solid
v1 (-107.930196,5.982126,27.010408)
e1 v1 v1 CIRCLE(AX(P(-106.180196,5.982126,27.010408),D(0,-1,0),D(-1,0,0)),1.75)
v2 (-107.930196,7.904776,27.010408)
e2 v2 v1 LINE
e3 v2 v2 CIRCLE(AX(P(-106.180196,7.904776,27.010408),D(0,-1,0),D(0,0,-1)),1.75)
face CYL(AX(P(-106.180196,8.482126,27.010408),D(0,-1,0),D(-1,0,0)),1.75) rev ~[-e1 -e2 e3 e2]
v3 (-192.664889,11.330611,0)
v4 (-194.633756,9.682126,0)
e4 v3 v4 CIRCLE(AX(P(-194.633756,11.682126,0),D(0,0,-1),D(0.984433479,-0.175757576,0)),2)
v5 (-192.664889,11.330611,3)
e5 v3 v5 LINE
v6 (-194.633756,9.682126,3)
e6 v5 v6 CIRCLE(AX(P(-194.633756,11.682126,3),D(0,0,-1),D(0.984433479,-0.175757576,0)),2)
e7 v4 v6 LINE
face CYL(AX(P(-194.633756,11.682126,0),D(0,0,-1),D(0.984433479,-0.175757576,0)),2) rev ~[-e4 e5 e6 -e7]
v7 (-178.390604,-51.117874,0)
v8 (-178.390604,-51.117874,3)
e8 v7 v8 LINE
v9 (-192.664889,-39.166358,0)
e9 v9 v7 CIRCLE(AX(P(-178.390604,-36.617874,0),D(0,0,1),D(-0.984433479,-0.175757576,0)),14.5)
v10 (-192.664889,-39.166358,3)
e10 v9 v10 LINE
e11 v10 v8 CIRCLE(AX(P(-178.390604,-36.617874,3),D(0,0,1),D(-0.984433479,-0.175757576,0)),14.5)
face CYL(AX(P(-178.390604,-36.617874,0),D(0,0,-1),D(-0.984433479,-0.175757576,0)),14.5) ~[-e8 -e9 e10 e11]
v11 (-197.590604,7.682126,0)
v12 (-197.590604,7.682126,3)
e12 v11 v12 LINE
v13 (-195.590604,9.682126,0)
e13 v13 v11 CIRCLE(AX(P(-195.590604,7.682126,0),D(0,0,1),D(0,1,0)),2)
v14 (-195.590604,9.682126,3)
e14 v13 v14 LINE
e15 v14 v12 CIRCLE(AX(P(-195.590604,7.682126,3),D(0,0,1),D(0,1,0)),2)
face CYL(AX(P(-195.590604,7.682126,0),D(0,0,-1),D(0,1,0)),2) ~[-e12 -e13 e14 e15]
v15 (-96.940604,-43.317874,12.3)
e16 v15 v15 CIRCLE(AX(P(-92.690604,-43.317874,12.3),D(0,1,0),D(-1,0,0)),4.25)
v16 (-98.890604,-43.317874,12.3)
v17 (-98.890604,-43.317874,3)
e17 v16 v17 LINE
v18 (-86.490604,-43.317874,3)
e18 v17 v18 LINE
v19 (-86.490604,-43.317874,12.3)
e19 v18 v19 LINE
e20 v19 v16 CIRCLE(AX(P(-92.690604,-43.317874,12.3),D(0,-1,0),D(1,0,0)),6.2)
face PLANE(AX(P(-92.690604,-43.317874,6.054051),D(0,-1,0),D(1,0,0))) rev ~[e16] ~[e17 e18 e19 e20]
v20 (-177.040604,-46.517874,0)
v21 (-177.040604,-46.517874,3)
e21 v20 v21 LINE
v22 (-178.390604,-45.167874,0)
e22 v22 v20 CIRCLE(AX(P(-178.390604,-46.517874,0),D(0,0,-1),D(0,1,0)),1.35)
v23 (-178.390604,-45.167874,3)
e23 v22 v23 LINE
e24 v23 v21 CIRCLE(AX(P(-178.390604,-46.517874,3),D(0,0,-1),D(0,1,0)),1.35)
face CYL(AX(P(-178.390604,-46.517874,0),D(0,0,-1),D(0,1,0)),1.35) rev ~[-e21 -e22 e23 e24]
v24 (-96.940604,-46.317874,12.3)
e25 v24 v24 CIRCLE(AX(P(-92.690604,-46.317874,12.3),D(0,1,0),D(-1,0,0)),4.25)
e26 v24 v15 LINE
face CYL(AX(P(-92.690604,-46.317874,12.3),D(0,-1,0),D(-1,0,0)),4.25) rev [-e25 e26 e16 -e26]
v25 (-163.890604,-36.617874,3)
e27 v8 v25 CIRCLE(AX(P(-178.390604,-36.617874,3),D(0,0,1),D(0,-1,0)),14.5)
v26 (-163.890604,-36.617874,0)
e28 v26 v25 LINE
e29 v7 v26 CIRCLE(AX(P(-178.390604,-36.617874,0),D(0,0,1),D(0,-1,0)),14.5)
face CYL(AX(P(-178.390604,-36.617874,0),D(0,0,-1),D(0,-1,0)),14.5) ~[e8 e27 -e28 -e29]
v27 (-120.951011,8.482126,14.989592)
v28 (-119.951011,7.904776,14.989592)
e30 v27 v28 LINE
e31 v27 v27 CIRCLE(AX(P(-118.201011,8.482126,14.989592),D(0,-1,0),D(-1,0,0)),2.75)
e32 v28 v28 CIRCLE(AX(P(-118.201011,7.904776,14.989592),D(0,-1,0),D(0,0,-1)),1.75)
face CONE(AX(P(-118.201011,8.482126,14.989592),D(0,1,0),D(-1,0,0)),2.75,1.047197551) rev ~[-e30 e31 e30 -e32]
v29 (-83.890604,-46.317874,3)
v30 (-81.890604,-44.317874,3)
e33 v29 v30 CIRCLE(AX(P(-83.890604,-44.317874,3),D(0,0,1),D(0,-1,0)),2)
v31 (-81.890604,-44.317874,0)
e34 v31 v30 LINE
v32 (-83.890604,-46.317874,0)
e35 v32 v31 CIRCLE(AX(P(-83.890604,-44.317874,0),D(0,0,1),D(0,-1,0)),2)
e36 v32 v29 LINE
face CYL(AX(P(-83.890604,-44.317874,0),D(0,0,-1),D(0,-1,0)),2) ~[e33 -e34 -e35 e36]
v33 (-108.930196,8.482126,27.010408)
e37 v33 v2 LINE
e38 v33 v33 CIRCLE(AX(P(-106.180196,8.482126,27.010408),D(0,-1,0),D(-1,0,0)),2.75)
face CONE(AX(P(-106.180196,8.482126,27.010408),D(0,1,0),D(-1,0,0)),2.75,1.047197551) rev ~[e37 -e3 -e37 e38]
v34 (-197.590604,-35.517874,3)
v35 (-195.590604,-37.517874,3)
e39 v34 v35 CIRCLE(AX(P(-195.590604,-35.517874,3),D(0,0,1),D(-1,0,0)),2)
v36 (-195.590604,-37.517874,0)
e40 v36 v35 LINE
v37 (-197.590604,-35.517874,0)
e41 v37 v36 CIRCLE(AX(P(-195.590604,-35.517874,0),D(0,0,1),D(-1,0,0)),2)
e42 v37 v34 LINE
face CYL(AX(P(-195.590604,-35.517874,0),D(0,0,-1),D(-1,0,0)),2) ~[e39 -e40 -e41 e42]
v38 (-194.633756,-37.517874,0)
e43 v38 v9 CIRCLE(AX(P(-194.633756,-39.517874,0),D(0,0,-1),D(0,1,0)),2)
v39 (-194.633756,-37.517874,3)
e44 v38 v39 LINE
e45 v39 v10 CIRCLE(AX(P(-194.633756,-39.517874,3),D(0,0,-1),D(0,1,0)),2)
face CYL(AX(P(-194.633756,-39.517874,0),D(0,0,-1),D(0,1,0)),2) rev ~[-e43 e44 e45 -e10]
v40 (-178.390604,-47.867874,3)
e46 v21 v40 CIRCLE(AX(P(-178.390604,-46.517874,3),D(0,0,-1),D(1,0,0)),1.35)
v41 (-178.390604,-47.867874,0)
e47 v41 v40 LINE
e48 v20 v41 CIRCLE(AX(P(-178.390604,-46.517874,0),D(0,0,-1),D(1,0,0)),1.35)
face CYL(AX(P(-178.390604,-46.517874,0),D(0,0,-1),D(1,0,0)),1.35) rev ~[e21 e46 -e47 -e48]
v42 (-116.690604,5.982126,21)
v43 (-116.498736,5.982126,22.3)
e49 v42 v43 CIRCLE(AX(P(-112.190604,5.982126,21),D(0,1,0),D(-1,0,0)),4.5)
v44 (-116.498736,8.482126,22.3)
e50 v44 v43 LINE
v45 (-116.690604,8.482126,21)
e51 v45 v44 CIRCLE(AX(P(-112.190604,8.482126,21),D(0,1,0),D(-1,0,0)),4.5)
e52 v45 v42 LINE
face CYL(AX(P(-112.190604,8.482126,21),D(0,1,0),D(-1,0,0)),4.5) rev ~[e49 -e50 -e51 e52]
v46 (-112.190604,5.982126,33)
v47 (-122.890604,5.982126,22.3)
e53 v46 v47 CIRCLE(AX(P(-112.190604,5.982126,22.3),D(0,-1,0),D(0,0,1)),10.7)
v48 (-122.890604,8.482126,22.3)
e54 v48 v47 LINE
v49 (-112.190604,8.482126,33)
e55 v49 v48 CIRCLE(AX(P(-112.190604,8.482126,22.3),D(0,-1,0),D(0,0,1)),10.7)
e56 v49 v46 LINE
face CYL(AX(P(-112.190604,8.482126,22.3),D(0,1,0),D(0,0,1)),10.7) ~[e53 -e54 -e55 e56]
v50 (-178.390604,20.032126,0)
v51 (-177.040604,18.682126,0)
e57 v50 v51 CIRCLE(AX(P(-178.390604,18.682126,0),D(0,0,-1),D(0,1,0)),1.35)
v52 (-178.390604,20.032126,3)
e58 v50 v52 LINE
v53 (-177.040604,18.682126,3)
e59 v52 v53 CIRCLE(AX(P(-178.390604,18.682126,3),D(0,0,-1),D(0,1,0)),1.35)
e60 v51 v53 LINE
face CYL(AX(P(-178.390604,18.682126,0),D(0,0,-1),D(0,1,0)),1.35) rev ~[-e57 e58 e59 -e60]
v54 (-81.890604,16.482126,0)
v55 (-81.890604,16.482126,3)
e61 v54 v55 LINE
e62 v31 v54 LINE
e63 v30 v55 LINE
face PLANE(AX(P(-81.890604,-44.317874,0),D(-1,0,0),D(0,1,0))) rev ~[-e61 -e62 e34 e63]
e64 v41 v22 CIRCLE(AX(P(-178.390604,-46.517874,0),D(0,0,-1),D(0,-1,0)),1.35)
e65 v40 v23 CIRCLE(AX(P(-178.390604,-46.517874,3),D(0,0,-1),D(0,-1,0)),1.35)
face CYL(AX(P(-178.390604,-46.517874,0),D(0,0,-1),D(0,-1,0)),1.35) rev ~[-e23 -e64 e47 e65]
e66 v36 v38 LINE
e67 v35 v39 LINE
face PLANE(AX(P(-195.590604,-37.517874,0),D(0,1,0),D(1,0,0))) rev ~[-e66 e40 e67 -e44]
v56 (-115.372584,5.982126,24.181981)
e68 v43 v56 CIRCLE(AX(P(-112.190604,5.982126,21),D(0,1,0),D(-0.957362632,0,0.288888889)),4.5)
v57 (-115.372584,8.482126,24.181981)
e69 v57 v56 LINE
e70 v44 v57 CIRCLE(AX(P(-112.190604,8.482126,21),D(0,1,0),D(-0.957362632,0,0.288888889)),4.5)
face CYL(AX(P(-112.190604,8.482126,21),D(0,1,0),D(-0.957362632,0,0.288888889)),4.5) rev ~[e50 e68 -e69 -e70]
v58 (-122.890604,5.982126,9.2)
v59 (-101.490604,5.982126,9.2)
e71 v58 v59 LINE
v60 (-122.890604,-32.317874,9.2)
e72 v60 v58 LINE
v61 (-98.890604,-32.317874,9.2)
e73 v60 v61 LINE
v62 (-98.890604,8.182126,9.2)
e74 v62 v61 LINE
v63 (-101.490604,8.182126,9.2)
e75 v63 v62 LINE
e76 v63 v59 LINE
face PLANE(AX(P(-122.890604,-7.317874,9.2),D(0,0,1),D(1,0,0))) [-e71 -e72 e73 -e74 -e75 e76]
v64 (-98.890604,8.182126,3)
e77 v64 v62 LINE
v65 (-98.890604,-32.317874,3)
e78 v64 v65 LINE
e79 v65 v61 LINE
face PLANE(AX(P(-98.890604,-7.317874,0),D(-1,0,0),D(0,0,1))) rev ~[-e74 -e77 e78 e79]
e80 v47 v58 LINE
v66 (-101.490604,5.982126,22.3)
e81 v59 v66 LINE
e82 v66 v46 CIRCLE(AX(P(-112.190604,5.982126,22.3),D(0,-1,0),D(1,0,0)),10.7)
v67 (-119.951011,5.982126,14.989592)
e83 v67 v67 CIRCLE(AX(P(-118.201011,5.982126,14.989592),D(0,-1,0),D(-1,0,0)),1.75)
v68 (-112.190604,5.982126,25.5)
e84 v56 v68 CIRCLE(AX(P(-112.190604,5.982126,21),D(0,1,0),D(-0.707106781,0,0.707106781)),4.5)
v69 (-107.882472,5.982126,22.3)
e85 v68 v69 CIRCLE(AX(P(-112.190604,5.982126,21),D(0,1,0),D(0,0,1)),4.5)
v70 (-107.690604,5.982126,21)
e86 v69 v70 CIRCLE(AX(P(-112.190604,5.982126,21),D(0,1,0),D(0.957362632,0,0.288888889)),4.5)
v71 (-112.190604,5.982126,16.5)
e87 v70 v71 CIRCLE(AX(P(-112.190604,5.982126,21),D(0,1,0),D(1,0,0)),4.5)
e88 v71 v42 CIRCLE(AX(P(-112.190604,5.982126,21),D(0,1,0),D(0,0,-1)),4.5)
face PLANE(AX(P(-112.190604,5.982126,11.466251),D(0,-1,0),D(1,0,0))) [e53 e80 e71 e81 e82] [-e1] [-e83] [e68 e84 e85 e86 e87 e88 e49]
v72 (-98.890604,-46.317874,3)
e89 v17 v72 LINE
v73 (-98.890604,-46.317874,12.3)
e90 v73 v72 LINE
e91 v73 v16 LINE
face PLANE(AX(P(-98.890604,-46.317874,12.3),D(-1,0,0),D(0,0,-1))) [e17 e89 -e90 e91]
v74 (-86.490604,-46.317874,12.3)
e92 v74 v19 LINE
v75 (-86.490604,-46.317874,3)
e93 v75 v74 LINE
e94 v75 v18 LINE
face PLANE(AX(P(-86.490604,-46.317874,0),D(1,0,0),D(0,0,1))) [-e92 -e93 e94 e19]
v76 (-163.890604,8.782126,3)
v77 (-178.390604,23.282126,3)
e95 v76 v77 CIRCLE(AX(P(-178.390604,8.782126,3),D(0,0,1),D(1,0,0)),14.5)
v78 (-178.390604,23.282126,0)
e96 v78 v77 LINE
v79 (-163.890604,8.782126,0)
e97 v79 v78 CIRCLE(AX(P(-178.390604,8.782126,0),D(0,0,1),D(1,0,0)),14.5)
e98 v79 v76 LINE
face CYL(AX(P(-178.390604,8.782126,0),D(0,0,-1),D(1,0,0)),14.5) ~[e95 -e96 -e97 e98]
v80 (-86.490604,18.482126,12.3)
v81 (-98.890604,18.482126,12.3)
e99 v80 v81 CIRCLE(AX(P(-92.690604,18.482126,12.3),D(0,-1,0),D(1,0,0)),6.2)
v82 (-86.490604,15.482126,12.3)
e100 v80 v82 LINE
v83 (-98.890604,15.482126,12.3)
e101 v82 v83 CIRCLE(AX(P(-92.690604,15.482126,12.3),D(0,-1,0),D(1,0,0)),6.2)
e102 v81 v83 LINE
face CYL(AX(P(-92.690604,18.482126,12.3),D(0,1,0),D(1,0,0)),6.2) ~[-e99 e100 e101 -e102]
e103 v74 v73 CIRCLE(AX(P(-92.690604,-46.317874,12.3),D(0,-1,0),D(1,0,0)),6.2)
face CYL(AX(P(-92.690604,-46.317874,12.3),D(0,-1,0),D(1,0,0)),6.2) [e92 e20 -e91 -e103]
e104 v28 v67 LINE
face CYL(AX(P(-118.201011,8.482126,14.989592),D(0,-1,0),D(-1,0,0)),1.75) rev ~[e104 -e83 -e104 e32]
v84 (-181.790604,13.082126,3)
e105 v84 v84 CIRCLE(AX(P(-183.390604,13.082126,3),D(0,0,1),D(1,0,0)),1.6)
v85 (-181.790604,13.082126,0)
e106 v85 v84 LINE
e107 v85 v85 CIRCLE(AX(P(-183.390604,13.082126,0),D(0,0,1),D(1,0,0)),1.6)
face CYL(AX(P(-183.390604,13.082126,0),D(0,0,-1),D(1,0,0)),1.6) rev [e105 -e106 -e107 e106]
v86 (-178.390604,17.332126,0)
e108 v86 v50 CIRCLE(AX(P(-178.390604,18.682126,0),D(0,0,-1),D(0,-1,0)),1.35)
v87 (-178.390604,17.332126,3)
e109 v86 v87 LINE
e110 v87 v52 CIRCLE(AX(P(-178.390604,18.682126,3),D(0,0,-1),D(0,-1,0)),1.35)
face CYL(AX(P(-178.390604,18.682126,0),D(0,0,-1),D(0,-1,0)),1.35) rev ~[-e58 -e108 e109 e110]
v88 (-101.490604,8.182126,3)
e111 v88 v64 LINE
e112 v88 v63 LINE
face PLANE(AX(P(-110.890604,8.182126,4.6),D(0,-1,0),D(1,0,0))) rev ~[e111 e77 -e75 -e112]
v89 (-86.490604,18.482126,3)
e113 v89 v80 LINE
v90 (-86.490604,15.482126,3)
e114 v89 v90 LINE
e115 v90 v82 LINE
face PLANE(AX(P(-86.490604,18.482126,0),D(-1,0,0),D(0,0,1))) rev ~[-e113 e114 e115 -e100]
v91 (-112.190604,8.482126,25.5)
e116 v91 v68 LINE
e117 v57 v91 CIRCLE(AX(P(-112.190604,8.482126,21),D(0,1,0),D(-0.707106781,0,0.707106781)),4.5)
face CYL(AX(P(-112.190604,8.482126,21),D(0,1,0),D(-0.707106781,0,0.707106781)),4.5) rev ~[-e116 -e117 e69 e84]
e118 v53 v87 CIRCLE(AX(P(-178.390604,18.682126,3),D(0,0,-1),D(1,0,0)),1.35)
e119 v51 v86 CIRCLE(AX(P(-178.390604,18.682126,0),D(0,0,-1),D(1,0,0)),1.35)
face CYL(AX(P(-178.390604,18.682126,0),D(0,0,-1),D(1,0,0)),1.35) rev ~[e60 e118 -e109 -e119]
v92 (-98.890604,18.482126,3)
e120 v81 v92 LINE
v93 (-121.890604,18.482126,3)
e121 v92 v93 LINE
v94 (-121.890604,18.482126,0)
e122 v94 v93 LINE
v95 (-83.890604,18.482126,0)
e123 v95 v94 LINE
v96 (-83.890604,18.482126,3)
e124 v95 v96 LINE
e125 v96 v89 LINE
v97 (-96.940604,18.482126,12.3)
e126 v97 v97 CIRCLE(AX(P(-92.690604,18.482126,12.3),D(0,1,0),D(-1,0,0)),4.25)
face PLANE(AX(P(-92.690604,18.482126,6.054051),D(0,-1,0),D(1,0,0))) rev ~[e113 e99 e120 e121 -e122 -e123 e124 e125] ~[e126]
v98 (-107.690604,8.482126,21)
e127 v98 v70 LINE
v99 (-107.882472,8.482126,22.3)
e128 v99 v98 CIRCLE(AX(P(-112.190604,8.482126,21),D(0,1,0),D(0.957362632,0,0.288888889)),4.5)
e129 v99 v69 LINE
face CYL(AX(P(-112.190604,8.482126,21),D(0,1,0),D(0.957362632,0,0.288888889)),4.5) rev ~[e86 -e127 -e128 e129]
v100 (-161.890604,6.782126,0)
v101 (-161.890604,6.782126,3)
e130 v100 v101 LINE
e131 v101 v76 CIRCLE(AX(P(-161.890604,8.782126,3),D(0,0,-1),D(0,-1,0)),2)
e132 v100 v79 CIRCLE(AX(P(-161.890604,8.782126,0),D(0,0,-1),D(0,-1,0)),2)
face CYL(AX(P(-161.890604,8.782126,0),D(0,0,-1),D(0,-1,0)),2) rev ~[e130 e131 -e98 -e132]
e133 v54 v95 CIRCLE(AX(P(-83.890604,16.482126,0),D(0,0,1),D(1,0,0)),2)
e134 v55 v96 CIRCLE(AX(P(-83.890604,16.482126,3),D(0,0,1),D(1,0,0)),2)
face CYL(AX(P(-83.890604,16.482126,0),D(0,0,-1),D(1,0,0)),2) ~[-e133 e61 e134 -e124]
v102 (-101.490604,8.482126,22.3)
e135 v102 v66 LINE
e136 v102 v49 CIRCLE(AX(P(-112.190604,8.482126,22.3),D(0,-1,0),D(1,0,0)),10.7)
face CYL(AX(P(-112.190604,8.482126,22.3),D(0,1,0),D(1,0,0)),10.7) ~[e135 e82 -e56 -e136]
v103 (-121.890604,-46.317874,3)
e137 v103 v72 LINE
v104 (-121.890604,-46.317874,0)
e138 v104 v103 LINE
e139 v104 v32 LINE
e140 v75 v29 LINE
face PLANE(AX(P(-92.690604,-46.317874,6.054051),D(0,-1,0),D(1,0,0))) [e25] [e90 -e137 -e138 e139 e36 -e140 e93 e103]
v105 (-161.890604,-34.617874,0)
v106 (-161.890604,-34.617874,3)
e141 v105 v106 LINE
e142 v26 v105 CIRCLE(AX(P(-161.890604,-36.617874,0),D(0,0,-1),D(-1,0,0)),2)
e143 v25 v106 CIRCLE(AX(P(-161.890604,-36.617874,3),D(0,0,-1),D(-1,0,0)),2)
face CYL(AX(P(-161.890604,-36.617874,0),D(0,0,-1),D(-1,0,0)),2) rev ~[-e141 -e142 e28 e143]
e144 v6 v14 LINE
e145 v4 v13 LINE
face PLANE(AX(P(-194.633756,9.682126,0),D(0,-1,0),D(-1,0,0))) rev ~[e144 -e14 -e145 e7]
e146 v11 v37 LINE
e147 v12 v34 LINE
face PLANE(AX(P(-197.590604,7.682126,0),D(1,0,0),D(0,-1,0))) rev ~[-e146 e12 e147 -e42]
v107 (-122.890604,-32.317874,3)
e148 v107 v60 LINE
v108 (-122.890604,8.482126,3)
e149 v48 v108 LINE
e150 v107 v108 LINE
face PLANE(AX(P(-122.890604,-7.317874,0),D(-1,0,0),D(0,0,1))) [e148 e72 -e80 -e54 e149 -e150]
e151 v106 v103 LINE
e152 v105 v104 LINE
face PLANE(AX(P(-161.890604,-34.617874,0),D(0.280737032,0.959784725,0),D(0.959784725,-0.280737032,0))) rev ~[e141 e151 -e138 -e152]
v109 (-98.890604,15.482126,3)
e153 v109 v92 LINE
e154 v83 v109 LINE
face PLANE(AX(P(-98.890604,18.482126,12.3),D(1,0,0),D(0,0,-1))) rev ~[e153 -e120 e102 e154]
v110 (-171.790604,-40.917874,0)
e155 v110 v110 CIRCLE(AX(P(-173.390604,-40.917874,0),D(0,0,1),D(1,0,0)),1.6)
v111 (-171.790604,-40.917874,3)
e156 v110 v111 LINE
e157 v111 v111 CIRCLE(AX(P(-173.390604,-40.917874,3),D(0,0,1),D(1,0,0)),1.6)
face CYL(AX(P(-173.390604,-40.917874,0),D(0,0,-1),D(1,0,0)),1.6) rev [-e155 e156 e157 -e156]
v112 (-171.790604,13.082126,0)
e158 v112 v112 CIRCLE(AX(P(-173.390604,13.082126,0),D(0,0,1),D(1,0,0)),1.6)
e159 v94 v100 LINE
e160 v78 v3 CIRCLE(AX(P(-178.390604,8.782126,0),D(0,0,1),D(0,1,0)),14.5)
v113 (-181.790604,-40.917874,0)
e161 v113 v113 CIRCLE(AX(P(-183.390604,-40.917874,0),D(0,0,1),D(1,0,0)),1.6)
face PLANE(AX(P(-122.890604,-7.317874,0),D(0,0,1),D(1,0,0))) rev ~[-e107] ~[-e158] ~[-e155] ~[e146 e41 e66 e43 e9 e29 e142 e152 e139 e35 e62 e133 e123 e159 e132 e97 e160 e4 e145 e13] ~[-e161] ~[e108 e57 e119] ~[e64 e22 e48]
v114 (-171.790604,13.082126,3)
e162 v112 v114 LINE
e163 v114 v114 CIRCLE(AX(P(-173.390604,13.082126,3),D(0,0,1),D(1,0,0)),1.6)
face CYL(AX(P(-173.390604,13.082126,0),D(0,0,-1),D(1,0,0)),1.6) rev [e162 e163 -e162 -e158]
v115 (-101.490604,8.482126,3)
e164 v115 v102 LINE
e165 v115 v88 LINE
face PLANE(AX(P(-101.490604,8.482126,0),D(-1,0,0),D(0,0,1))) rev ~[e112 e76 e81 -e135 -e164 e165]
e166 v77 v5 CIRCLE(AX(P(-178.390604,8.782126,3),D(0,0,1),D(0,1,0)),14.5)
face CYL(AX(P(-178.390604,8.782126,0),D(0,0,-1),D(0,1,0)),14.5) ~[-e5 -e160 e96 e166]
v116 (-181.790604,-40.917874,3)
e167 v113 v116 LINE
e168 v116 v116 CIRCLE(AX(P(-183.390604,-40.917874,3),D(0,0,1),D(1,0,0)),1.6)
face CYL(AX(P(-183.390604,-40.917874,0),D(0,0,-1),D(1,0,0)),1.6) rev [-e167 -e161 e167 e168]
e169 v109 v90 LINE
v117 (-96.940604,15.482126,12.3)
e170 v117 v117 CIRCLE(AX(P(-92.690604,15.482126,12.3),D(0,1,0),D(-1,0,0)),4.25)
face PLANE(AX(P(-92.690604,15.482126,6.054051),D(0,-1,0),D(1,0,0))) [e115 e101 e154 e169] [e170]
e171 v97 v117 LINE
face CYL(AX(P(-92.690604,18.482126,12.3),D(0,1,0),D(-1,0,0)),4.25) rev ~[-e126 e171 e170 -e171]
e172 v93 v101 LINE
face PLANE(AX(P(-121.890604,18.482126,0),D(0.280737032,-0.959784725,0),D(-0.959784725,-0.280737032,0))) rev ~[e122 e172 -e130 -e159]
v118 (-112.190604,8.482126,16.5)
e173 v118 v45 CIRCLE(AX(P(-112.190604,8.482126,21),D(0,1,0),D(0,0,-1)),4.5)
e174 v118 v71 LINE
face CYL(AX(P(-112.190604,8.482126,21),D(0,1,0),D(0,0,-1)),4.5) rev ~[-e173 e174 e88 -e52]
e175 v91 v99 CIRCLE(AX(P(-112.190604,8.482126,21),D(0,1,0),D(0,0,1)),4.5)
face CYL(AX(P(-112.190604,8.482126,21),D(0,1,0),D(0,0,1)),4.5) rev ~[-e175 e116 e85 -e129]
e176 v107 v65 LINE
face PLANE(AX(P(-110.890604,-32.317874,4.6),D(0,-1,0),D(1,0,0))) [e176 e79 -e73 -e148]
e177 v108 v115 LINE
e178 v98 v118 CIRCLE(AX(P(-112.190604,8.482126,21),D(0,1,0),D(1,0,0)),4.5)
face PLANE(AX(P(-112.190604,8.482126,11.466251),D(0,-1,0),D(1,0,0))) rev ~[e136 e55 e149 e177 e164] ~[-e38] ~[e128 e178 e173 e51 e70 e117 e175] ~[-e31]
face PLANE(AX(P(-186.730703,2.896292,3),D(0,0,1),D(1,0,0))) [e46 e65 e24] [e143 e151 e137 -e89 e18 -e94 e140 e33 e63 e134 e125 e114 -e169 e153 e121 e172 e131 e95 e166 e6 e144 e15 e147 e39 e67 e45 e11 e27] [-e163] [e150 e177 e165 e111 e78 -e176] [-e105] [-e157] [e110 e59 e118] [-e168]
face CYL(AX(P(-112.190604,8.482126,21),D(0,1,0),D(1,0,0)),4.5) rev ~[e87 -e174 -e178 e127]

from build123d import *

# Parameters (mm, degrees)
F0_R            = 1.6
F0_W            = 20
F0_H            = 32.4
F1_DEPTH        = 3
F7_DEPTH        = 3
F9_DEPTH        = 3
F11_DEPTH       = 2.5
F12_D           = 3.5
F12_CSINK_D     = 5.5
F12_CSINK_ANGLE = 120
F14_W           = 24
F14_H           = 9.2
F15_DEPTH       = 15.5
F16_DEPTH       = 25


with BuildPart() as f1:
    # F0 (on Top) → F1 (new body)
    with BuildSketch(Plane.XY):
        with BuildLine():
            Line((-197.590603765, 7.6821263526), (-197.590603765, -13.9178736474))
            Line((-197.590603765, -13.9178736474), (-178.390603765, -13.9178736474))
            Line((-178.390603765, -13.9178736474), (-178.390603765, 8.7821263526))
            Line((-178.390603765, 8.7821263526), (-178.390603765, 17.3321263526))
            ThreePointArc((-178.390603765, 17.3321263526), (-179.740603765, 18.6821263526), (-178.390603765, 20.0321263526))
            Line((-178.390603765, 20.0321263526), (-178.390603765, 23.2821263526))
            ThreePointArc((-178.390603765, 23.2821263526), (-187.699120556, 19.8997481824), (-192.6648892104, 11.3306112011))
            ThreePointArc((-192.6648892104, 11.3306112011), (-193.3498228179, 10.1486612726), (-194.6337561684, 9.6821263526))
            Line((-194.6337561684, 9.6821263526), (-195.590603765, 9.6821263526))
            ThreePointArc((-195.590603765, 9.6821263526), (-197.0048173273, 9.096339915), (-197.590603765, 7.6821263526))
        make_face()
        with Locations((-183.390603765, 13.0821263526)):
            Circle(F0_R, mode=Mode.SUBTRACT)
        with BuildLine():
            Line((-178.390603765, -13.9178736474), (-197.590603765, -13.9178736474))
            Line((-197.590603765, -13.9178736474), (-197.590603765, -35.5178736474))
            ThreePointArc((-197.590603765, -35.5178736474), (-197.0048173273, -36.9320872098), (-195.590603765, -37.5178736474))
            Line((-195.590603765, -37.5178736474), (-194.6337561684, -37.5178736474))
            ThreePointArc((-194.6337561684, -37.5178736474), (-193.3498228179, -37.9844085674), (-192.6648892104, -39.1663584959))
            ThreePointArc((-192.6648892104, -39.1663584959), (-187.699120556, -47.7354954773), (-178.390603765, -51.1178736474))
            Line((-178.390603765, -51.1178736474), (-178.390603765, -47.8678736474))
            ThreePointArc((-178.390603765, -47.8678736474), (-179.740603765, -46.5178736474), (-178.390603765, -45.1678736474))
            Line((-178.390603765, -45.1678736474), (-178.390603765, -13.9178736474))
        make_face()
        with Locations((-183.390603765, -40.9178736474)):
            Circle(F0_R, mode=Mode.SUBTRACT)
        with BuildLine():
            Line((-178.390603765, 8.7821263526), (-178.390603765, -13.9178736474))
            Line((-178.390603765, -13.9178736474), (-161.890603765, -13.9178736474))
            Line((-161.890603765, -13.9178736474), (-161.890603765, 6.7821263526))
            ThreePointArc((-161.890603765, 6.7821263526), (-163.3048173273, 7.3679127902), (-163.890603765, 8.7821263526))
            Line((-163.890603765, 8.7821263526), (-178.390603765, 8.7821263526))
        make_face()
        with BuildLine():
            Line((-161.890603765, -13.9178736474), (-178.390603765, -13.9178736474))
            Line((-178.390603765, -13.9178736474), (-178.390603765, -45.1678736474))
            ThreePointArc((-178.390603765, -45.1678736474), (-177.4360096104, -45.5632794928), (-177.040603765, -46.5178736474))
            ThreePointArc((-177.040603765, -46.5178736474), (-177.4360096104, -47.472467802), (-178.390603765, -47.8678736474))
            Line((-178.390603765, -47.8678736474), (-178.390603765, -51.1178736474))
            ThreePointArc((-178.390603765, -51.1178736474), (-168.1375554378, -46.8709219746), (-163.890603765, -36.6178736474))
            ThreePointArc((-163.890603765, -36.6178736474), (-163.3048173273, -35.203660085), (-161.890603765, -34.6178736474))
            Line((-161.890603765, -34.6178736474), (-161.890603765, -13.9178736474))
        make_face()
        with Locations((-173.390603765, -40.9178736474)):
            Circle(F0_R, mode=Mode.SUBTRACT)
        Polygon((-161.890603765, 6.7821263526), (-161.890603765, -13.9178736474), (-121.890603765, -13.9178736474), (-121.890603765, 18.4821263526), align=None)
        Polygon((-121.890603765, -13.9178736474), (-161.890603765, -13.9178736474), (-161.890603765, -34.6178736474), (-121.890603765, -46.3178736474), align=None)
        with BuildLine():
            Line((-178.390603765, 17.3321263526), (-178.390603765, 8.7821263526))
            Line((-178.390603765, 8.7821263526), (-163.890603765, 8.7821263526))
            ThreePointArc((-163.890603765, 8.7821263526), (-168.1375554378, 19.0351746798), (-178.390603765, 23.2821263526))
            Line((-178.390603765, 23.2821263526), (-178.390603765, 20.0321263526))
            ThreePointArc((-178.390603765, 20.0321263526), (-177.4360096104, 19.6367205072), (-177.040603765, 18.6821263526))
            ThreePointArc((-177.040603765, 18.6821263526), (-177.4360096104, 17.727532198), (-178.390603765, 17.3321263526))
        make_face()
        with Locations((-173.390603765, 13.0821263526)):
            Circle(F0_R, mode=Mode.SUBTRACT)
        with Locations((-111.890603765, 2.2821263526)):
            Rectangle(F0_W, F0_H)
        with Locations((-111.890603765, -30.1178736474)):
            Rectangle(F0_W, F0_H)
        with BuildLine():
            Line((-101.890603765, 18.4821263526), (-101.890603765, -13.9178736474))
            Line((-101.890603765, -13.9178736474), (-81.890603765, -13.9178736474))
            Line((-81.890603765, -13.9178736474), (-81.890603765, -5.8178736474))
            Line((-81.890603765, -5.8178736474), (-81.890603765, 16.4821263526))
            ThreePointArc((-81.890603765, 16.4821263526), (-82.4763902026, 17.896339915), (-83.890603765, 18.4821263526))
            Line((-83.890603765, 18.4821263526), (-101.890603765, 18.4821263526))
        make_face()
        with BuildLine():
            Line((-81.890603765, -13.9178736474), (-101.890603765, -13.9178736474))
            Line((-101.890603765, -13.9178736474), (-101.890603765, -46.3178736474))
            Line((-101.890603765, -46.3178736474), (-83.890603765, -46.3178736474))
            ThreePointArc((-83.890603765, -46.3178736474), (-82.4763902026, -45.7320872098), (-81.890603765, -44.3178736474))
            Line((-81.890603765, -44.3178736474), (-81.890603765, -22.0178736474))
            Line((-81.890603765, -22.0178736474), (-81.890603765, -13.9178736474))
        make_face()
    extrude(amount=F1_DEPTH)

    # F6 (on plane+point) → F7 (join)
    with BuildSketch(Plane.XZ.offset(46.3178736474)):
        with BuildLine():
            Line((-98.890603765, 12.3), (-98.890603765, 0))
            Line((-98.890603765, 0), (-86.490603765, 0))
            Line((-86.490603765, 0), (-86.490603765, 12.3))
            Line((-86.490603765, 12.3), (-88.440603765, 12.3))
            ThreePointArc((-88.440603765, 12.3), (-92.690603765, 8.05), (-96.940603765, 12.3))
            Line((-96.940603765, 12.3), (-98.890603765, 12.3))
        make_face()
        with BuildLine():
            ThreePointArc((-86.490603765, 12.3), (-92.690603765, 18.5), (-98.890603765, 12.3))
            Line((-98.890603765, 12.3), (-96.940603765, 12.3))
            ThreePointArc((-96.940603765, 12.3), (-92.690603765, 16.55), (-88.440603765, 12.3))
            Line((-88.440603765, 12.3), (-86.490603765, 12.3))
        make_face()
    extrude(amount=-F7_DEPTH)

    # F8 (on plane+point) → F9 (join)
    with BuildSketch(Plane.XZ.offset(-18.4821263526)):
        with BuildLine():
            Line((-98.890603765, 12.3), (-98.890603765, 0))
            Line((-98.890603765, 0), (-86.490603765, 0))
            Line((-86.490603765, 0), (-86.490603765, 12.3))
            Line((-86.490603765, 12.3), (-88.440603765, 12.3))
            ThreePointArc((-88.440603765, 12.3), (-92.690603765, 8.05), (-96.940603765, 12.3))
            Line((-96.940603765, 12.3), (-98.890603765, 12.3))
        make_face()
        with BuildLine():
            ThreePointArc((-86.490603765, 12.3), (-92.690603765, 18.5), (-98.890603765, 12.3))
            Line((-98.890603765, 12.3), (-96.940603765, 12.3))
            ThreePointArc((-96.940603765, 12.3), (-92.690603765, 16.55), (-88.440603765, 12.3))
            Line((-88.440603765, 12.3), (-86.490603765, 12.3))
        make_face()
    extrude(amount=F9_DEPTH)

    # F10 (on plane+point) → F11 (join)
    with BuildSketch(Plane.XZ.offset(-8.4821263526)):
        with BuildLine():
            Line((-122.890603765, 22.3), (-122.890603765, 0))
            Line((-122.890603765, 0), (-101.490603765, 0))
            Line((-101.490603765, 0), (-101.490603765, 22.3))
            Line((-101.490603765, 22.3), (-107.8824719192, 22.3))
            ThreePointArc((-107.8824719192, 22.3), (-107.738829214, 21.6570413588), (-107.690603765, 21))
            ThreePointArc((-107.690603765, 21), (-109.0086232496, 17.8180194847), (-112.190603765, 16.5))
            ThreePointArc((-112.190603765, 16.5), (-115.3725842803, 17.8180194847), (-116.690603765, 21))
            ThreePointArc((-116.690603765, 21), (-116.6423783159, 21.6570413588), (-116.4987356107, 22.3))
            Line((-116.4987356107, 22.3), (-122.890603765, 22.3))
        make_face()
        with BuildLine():
            ThreePointArc((-112.190603765, 33), (-119.7566463237, 29.8660425587), (-122.890603765, 22.3))
            Line((-122.890603765, 22.3), (-116.4987356107, 22.3))
            ThreePointArc((-116.4987356107, 22.3), (-116.0520683136, 23.3106474287), (-115.3725842803, 24.1819805153))
            ThreePointArc((-115.3725842803, 24.1819805153), (-113.9126792106, 25.1574578963), (-112.190603765, 25.5))
            Line((-112.190603765, 25.5), (-112.190603765, 33))
        make_face()
        with BuildLine():
            Line((-107.8824719192, 22.3), (-101.490603765, 22.3))
            ThreePointArc((-101.490603765, 22.3), (-104.6245612063, 29.8660425587), (-112.190603765, 33))
            Line((-112.190603765, 33), (-112.190603765, 25.5))
            ThreePointArc((-112.190603765, 25.5), (-109.507322192, 24.6124783736), (-107.8824719192, 22.3))
        make_face()
    extrude(amount=F11_DEPTH)

    # F12 (through all)
    with Locations(Plane(origin=(0, 8.4821263526, 0), x_dir=(1, 0, 0), z_dir=(0, 1, 0))):
        with Locations((-106.1801961249, -27.0104076401), (-118.201011405, -14.9895923599)):
            CounterSinkHole(F12_D / 2, F12_CSINK_D / 2, counter_sink_angle=F12_CSINK_ANGLE)

    # F14 (on plane+point) → F15 (join)
    with BuildSketch(Plane.XZ.offset(7.3178736474)):
        with Locations((-110.890603765, 4.6)):
            Rectangle(F14_W, F14_H)
    extrude(amount=-F15_DEPTH)

    # F14 (on plane+point) → F16 (join)
    with BuildSketch(Plane.XZ.offset(7.3178736474)):
        with Locations((-110.890603765, 4.6)):
            Rectangle(F14_W, F14_H)
    extrude(amount=F16_DEPTH)


solid = f1.part
